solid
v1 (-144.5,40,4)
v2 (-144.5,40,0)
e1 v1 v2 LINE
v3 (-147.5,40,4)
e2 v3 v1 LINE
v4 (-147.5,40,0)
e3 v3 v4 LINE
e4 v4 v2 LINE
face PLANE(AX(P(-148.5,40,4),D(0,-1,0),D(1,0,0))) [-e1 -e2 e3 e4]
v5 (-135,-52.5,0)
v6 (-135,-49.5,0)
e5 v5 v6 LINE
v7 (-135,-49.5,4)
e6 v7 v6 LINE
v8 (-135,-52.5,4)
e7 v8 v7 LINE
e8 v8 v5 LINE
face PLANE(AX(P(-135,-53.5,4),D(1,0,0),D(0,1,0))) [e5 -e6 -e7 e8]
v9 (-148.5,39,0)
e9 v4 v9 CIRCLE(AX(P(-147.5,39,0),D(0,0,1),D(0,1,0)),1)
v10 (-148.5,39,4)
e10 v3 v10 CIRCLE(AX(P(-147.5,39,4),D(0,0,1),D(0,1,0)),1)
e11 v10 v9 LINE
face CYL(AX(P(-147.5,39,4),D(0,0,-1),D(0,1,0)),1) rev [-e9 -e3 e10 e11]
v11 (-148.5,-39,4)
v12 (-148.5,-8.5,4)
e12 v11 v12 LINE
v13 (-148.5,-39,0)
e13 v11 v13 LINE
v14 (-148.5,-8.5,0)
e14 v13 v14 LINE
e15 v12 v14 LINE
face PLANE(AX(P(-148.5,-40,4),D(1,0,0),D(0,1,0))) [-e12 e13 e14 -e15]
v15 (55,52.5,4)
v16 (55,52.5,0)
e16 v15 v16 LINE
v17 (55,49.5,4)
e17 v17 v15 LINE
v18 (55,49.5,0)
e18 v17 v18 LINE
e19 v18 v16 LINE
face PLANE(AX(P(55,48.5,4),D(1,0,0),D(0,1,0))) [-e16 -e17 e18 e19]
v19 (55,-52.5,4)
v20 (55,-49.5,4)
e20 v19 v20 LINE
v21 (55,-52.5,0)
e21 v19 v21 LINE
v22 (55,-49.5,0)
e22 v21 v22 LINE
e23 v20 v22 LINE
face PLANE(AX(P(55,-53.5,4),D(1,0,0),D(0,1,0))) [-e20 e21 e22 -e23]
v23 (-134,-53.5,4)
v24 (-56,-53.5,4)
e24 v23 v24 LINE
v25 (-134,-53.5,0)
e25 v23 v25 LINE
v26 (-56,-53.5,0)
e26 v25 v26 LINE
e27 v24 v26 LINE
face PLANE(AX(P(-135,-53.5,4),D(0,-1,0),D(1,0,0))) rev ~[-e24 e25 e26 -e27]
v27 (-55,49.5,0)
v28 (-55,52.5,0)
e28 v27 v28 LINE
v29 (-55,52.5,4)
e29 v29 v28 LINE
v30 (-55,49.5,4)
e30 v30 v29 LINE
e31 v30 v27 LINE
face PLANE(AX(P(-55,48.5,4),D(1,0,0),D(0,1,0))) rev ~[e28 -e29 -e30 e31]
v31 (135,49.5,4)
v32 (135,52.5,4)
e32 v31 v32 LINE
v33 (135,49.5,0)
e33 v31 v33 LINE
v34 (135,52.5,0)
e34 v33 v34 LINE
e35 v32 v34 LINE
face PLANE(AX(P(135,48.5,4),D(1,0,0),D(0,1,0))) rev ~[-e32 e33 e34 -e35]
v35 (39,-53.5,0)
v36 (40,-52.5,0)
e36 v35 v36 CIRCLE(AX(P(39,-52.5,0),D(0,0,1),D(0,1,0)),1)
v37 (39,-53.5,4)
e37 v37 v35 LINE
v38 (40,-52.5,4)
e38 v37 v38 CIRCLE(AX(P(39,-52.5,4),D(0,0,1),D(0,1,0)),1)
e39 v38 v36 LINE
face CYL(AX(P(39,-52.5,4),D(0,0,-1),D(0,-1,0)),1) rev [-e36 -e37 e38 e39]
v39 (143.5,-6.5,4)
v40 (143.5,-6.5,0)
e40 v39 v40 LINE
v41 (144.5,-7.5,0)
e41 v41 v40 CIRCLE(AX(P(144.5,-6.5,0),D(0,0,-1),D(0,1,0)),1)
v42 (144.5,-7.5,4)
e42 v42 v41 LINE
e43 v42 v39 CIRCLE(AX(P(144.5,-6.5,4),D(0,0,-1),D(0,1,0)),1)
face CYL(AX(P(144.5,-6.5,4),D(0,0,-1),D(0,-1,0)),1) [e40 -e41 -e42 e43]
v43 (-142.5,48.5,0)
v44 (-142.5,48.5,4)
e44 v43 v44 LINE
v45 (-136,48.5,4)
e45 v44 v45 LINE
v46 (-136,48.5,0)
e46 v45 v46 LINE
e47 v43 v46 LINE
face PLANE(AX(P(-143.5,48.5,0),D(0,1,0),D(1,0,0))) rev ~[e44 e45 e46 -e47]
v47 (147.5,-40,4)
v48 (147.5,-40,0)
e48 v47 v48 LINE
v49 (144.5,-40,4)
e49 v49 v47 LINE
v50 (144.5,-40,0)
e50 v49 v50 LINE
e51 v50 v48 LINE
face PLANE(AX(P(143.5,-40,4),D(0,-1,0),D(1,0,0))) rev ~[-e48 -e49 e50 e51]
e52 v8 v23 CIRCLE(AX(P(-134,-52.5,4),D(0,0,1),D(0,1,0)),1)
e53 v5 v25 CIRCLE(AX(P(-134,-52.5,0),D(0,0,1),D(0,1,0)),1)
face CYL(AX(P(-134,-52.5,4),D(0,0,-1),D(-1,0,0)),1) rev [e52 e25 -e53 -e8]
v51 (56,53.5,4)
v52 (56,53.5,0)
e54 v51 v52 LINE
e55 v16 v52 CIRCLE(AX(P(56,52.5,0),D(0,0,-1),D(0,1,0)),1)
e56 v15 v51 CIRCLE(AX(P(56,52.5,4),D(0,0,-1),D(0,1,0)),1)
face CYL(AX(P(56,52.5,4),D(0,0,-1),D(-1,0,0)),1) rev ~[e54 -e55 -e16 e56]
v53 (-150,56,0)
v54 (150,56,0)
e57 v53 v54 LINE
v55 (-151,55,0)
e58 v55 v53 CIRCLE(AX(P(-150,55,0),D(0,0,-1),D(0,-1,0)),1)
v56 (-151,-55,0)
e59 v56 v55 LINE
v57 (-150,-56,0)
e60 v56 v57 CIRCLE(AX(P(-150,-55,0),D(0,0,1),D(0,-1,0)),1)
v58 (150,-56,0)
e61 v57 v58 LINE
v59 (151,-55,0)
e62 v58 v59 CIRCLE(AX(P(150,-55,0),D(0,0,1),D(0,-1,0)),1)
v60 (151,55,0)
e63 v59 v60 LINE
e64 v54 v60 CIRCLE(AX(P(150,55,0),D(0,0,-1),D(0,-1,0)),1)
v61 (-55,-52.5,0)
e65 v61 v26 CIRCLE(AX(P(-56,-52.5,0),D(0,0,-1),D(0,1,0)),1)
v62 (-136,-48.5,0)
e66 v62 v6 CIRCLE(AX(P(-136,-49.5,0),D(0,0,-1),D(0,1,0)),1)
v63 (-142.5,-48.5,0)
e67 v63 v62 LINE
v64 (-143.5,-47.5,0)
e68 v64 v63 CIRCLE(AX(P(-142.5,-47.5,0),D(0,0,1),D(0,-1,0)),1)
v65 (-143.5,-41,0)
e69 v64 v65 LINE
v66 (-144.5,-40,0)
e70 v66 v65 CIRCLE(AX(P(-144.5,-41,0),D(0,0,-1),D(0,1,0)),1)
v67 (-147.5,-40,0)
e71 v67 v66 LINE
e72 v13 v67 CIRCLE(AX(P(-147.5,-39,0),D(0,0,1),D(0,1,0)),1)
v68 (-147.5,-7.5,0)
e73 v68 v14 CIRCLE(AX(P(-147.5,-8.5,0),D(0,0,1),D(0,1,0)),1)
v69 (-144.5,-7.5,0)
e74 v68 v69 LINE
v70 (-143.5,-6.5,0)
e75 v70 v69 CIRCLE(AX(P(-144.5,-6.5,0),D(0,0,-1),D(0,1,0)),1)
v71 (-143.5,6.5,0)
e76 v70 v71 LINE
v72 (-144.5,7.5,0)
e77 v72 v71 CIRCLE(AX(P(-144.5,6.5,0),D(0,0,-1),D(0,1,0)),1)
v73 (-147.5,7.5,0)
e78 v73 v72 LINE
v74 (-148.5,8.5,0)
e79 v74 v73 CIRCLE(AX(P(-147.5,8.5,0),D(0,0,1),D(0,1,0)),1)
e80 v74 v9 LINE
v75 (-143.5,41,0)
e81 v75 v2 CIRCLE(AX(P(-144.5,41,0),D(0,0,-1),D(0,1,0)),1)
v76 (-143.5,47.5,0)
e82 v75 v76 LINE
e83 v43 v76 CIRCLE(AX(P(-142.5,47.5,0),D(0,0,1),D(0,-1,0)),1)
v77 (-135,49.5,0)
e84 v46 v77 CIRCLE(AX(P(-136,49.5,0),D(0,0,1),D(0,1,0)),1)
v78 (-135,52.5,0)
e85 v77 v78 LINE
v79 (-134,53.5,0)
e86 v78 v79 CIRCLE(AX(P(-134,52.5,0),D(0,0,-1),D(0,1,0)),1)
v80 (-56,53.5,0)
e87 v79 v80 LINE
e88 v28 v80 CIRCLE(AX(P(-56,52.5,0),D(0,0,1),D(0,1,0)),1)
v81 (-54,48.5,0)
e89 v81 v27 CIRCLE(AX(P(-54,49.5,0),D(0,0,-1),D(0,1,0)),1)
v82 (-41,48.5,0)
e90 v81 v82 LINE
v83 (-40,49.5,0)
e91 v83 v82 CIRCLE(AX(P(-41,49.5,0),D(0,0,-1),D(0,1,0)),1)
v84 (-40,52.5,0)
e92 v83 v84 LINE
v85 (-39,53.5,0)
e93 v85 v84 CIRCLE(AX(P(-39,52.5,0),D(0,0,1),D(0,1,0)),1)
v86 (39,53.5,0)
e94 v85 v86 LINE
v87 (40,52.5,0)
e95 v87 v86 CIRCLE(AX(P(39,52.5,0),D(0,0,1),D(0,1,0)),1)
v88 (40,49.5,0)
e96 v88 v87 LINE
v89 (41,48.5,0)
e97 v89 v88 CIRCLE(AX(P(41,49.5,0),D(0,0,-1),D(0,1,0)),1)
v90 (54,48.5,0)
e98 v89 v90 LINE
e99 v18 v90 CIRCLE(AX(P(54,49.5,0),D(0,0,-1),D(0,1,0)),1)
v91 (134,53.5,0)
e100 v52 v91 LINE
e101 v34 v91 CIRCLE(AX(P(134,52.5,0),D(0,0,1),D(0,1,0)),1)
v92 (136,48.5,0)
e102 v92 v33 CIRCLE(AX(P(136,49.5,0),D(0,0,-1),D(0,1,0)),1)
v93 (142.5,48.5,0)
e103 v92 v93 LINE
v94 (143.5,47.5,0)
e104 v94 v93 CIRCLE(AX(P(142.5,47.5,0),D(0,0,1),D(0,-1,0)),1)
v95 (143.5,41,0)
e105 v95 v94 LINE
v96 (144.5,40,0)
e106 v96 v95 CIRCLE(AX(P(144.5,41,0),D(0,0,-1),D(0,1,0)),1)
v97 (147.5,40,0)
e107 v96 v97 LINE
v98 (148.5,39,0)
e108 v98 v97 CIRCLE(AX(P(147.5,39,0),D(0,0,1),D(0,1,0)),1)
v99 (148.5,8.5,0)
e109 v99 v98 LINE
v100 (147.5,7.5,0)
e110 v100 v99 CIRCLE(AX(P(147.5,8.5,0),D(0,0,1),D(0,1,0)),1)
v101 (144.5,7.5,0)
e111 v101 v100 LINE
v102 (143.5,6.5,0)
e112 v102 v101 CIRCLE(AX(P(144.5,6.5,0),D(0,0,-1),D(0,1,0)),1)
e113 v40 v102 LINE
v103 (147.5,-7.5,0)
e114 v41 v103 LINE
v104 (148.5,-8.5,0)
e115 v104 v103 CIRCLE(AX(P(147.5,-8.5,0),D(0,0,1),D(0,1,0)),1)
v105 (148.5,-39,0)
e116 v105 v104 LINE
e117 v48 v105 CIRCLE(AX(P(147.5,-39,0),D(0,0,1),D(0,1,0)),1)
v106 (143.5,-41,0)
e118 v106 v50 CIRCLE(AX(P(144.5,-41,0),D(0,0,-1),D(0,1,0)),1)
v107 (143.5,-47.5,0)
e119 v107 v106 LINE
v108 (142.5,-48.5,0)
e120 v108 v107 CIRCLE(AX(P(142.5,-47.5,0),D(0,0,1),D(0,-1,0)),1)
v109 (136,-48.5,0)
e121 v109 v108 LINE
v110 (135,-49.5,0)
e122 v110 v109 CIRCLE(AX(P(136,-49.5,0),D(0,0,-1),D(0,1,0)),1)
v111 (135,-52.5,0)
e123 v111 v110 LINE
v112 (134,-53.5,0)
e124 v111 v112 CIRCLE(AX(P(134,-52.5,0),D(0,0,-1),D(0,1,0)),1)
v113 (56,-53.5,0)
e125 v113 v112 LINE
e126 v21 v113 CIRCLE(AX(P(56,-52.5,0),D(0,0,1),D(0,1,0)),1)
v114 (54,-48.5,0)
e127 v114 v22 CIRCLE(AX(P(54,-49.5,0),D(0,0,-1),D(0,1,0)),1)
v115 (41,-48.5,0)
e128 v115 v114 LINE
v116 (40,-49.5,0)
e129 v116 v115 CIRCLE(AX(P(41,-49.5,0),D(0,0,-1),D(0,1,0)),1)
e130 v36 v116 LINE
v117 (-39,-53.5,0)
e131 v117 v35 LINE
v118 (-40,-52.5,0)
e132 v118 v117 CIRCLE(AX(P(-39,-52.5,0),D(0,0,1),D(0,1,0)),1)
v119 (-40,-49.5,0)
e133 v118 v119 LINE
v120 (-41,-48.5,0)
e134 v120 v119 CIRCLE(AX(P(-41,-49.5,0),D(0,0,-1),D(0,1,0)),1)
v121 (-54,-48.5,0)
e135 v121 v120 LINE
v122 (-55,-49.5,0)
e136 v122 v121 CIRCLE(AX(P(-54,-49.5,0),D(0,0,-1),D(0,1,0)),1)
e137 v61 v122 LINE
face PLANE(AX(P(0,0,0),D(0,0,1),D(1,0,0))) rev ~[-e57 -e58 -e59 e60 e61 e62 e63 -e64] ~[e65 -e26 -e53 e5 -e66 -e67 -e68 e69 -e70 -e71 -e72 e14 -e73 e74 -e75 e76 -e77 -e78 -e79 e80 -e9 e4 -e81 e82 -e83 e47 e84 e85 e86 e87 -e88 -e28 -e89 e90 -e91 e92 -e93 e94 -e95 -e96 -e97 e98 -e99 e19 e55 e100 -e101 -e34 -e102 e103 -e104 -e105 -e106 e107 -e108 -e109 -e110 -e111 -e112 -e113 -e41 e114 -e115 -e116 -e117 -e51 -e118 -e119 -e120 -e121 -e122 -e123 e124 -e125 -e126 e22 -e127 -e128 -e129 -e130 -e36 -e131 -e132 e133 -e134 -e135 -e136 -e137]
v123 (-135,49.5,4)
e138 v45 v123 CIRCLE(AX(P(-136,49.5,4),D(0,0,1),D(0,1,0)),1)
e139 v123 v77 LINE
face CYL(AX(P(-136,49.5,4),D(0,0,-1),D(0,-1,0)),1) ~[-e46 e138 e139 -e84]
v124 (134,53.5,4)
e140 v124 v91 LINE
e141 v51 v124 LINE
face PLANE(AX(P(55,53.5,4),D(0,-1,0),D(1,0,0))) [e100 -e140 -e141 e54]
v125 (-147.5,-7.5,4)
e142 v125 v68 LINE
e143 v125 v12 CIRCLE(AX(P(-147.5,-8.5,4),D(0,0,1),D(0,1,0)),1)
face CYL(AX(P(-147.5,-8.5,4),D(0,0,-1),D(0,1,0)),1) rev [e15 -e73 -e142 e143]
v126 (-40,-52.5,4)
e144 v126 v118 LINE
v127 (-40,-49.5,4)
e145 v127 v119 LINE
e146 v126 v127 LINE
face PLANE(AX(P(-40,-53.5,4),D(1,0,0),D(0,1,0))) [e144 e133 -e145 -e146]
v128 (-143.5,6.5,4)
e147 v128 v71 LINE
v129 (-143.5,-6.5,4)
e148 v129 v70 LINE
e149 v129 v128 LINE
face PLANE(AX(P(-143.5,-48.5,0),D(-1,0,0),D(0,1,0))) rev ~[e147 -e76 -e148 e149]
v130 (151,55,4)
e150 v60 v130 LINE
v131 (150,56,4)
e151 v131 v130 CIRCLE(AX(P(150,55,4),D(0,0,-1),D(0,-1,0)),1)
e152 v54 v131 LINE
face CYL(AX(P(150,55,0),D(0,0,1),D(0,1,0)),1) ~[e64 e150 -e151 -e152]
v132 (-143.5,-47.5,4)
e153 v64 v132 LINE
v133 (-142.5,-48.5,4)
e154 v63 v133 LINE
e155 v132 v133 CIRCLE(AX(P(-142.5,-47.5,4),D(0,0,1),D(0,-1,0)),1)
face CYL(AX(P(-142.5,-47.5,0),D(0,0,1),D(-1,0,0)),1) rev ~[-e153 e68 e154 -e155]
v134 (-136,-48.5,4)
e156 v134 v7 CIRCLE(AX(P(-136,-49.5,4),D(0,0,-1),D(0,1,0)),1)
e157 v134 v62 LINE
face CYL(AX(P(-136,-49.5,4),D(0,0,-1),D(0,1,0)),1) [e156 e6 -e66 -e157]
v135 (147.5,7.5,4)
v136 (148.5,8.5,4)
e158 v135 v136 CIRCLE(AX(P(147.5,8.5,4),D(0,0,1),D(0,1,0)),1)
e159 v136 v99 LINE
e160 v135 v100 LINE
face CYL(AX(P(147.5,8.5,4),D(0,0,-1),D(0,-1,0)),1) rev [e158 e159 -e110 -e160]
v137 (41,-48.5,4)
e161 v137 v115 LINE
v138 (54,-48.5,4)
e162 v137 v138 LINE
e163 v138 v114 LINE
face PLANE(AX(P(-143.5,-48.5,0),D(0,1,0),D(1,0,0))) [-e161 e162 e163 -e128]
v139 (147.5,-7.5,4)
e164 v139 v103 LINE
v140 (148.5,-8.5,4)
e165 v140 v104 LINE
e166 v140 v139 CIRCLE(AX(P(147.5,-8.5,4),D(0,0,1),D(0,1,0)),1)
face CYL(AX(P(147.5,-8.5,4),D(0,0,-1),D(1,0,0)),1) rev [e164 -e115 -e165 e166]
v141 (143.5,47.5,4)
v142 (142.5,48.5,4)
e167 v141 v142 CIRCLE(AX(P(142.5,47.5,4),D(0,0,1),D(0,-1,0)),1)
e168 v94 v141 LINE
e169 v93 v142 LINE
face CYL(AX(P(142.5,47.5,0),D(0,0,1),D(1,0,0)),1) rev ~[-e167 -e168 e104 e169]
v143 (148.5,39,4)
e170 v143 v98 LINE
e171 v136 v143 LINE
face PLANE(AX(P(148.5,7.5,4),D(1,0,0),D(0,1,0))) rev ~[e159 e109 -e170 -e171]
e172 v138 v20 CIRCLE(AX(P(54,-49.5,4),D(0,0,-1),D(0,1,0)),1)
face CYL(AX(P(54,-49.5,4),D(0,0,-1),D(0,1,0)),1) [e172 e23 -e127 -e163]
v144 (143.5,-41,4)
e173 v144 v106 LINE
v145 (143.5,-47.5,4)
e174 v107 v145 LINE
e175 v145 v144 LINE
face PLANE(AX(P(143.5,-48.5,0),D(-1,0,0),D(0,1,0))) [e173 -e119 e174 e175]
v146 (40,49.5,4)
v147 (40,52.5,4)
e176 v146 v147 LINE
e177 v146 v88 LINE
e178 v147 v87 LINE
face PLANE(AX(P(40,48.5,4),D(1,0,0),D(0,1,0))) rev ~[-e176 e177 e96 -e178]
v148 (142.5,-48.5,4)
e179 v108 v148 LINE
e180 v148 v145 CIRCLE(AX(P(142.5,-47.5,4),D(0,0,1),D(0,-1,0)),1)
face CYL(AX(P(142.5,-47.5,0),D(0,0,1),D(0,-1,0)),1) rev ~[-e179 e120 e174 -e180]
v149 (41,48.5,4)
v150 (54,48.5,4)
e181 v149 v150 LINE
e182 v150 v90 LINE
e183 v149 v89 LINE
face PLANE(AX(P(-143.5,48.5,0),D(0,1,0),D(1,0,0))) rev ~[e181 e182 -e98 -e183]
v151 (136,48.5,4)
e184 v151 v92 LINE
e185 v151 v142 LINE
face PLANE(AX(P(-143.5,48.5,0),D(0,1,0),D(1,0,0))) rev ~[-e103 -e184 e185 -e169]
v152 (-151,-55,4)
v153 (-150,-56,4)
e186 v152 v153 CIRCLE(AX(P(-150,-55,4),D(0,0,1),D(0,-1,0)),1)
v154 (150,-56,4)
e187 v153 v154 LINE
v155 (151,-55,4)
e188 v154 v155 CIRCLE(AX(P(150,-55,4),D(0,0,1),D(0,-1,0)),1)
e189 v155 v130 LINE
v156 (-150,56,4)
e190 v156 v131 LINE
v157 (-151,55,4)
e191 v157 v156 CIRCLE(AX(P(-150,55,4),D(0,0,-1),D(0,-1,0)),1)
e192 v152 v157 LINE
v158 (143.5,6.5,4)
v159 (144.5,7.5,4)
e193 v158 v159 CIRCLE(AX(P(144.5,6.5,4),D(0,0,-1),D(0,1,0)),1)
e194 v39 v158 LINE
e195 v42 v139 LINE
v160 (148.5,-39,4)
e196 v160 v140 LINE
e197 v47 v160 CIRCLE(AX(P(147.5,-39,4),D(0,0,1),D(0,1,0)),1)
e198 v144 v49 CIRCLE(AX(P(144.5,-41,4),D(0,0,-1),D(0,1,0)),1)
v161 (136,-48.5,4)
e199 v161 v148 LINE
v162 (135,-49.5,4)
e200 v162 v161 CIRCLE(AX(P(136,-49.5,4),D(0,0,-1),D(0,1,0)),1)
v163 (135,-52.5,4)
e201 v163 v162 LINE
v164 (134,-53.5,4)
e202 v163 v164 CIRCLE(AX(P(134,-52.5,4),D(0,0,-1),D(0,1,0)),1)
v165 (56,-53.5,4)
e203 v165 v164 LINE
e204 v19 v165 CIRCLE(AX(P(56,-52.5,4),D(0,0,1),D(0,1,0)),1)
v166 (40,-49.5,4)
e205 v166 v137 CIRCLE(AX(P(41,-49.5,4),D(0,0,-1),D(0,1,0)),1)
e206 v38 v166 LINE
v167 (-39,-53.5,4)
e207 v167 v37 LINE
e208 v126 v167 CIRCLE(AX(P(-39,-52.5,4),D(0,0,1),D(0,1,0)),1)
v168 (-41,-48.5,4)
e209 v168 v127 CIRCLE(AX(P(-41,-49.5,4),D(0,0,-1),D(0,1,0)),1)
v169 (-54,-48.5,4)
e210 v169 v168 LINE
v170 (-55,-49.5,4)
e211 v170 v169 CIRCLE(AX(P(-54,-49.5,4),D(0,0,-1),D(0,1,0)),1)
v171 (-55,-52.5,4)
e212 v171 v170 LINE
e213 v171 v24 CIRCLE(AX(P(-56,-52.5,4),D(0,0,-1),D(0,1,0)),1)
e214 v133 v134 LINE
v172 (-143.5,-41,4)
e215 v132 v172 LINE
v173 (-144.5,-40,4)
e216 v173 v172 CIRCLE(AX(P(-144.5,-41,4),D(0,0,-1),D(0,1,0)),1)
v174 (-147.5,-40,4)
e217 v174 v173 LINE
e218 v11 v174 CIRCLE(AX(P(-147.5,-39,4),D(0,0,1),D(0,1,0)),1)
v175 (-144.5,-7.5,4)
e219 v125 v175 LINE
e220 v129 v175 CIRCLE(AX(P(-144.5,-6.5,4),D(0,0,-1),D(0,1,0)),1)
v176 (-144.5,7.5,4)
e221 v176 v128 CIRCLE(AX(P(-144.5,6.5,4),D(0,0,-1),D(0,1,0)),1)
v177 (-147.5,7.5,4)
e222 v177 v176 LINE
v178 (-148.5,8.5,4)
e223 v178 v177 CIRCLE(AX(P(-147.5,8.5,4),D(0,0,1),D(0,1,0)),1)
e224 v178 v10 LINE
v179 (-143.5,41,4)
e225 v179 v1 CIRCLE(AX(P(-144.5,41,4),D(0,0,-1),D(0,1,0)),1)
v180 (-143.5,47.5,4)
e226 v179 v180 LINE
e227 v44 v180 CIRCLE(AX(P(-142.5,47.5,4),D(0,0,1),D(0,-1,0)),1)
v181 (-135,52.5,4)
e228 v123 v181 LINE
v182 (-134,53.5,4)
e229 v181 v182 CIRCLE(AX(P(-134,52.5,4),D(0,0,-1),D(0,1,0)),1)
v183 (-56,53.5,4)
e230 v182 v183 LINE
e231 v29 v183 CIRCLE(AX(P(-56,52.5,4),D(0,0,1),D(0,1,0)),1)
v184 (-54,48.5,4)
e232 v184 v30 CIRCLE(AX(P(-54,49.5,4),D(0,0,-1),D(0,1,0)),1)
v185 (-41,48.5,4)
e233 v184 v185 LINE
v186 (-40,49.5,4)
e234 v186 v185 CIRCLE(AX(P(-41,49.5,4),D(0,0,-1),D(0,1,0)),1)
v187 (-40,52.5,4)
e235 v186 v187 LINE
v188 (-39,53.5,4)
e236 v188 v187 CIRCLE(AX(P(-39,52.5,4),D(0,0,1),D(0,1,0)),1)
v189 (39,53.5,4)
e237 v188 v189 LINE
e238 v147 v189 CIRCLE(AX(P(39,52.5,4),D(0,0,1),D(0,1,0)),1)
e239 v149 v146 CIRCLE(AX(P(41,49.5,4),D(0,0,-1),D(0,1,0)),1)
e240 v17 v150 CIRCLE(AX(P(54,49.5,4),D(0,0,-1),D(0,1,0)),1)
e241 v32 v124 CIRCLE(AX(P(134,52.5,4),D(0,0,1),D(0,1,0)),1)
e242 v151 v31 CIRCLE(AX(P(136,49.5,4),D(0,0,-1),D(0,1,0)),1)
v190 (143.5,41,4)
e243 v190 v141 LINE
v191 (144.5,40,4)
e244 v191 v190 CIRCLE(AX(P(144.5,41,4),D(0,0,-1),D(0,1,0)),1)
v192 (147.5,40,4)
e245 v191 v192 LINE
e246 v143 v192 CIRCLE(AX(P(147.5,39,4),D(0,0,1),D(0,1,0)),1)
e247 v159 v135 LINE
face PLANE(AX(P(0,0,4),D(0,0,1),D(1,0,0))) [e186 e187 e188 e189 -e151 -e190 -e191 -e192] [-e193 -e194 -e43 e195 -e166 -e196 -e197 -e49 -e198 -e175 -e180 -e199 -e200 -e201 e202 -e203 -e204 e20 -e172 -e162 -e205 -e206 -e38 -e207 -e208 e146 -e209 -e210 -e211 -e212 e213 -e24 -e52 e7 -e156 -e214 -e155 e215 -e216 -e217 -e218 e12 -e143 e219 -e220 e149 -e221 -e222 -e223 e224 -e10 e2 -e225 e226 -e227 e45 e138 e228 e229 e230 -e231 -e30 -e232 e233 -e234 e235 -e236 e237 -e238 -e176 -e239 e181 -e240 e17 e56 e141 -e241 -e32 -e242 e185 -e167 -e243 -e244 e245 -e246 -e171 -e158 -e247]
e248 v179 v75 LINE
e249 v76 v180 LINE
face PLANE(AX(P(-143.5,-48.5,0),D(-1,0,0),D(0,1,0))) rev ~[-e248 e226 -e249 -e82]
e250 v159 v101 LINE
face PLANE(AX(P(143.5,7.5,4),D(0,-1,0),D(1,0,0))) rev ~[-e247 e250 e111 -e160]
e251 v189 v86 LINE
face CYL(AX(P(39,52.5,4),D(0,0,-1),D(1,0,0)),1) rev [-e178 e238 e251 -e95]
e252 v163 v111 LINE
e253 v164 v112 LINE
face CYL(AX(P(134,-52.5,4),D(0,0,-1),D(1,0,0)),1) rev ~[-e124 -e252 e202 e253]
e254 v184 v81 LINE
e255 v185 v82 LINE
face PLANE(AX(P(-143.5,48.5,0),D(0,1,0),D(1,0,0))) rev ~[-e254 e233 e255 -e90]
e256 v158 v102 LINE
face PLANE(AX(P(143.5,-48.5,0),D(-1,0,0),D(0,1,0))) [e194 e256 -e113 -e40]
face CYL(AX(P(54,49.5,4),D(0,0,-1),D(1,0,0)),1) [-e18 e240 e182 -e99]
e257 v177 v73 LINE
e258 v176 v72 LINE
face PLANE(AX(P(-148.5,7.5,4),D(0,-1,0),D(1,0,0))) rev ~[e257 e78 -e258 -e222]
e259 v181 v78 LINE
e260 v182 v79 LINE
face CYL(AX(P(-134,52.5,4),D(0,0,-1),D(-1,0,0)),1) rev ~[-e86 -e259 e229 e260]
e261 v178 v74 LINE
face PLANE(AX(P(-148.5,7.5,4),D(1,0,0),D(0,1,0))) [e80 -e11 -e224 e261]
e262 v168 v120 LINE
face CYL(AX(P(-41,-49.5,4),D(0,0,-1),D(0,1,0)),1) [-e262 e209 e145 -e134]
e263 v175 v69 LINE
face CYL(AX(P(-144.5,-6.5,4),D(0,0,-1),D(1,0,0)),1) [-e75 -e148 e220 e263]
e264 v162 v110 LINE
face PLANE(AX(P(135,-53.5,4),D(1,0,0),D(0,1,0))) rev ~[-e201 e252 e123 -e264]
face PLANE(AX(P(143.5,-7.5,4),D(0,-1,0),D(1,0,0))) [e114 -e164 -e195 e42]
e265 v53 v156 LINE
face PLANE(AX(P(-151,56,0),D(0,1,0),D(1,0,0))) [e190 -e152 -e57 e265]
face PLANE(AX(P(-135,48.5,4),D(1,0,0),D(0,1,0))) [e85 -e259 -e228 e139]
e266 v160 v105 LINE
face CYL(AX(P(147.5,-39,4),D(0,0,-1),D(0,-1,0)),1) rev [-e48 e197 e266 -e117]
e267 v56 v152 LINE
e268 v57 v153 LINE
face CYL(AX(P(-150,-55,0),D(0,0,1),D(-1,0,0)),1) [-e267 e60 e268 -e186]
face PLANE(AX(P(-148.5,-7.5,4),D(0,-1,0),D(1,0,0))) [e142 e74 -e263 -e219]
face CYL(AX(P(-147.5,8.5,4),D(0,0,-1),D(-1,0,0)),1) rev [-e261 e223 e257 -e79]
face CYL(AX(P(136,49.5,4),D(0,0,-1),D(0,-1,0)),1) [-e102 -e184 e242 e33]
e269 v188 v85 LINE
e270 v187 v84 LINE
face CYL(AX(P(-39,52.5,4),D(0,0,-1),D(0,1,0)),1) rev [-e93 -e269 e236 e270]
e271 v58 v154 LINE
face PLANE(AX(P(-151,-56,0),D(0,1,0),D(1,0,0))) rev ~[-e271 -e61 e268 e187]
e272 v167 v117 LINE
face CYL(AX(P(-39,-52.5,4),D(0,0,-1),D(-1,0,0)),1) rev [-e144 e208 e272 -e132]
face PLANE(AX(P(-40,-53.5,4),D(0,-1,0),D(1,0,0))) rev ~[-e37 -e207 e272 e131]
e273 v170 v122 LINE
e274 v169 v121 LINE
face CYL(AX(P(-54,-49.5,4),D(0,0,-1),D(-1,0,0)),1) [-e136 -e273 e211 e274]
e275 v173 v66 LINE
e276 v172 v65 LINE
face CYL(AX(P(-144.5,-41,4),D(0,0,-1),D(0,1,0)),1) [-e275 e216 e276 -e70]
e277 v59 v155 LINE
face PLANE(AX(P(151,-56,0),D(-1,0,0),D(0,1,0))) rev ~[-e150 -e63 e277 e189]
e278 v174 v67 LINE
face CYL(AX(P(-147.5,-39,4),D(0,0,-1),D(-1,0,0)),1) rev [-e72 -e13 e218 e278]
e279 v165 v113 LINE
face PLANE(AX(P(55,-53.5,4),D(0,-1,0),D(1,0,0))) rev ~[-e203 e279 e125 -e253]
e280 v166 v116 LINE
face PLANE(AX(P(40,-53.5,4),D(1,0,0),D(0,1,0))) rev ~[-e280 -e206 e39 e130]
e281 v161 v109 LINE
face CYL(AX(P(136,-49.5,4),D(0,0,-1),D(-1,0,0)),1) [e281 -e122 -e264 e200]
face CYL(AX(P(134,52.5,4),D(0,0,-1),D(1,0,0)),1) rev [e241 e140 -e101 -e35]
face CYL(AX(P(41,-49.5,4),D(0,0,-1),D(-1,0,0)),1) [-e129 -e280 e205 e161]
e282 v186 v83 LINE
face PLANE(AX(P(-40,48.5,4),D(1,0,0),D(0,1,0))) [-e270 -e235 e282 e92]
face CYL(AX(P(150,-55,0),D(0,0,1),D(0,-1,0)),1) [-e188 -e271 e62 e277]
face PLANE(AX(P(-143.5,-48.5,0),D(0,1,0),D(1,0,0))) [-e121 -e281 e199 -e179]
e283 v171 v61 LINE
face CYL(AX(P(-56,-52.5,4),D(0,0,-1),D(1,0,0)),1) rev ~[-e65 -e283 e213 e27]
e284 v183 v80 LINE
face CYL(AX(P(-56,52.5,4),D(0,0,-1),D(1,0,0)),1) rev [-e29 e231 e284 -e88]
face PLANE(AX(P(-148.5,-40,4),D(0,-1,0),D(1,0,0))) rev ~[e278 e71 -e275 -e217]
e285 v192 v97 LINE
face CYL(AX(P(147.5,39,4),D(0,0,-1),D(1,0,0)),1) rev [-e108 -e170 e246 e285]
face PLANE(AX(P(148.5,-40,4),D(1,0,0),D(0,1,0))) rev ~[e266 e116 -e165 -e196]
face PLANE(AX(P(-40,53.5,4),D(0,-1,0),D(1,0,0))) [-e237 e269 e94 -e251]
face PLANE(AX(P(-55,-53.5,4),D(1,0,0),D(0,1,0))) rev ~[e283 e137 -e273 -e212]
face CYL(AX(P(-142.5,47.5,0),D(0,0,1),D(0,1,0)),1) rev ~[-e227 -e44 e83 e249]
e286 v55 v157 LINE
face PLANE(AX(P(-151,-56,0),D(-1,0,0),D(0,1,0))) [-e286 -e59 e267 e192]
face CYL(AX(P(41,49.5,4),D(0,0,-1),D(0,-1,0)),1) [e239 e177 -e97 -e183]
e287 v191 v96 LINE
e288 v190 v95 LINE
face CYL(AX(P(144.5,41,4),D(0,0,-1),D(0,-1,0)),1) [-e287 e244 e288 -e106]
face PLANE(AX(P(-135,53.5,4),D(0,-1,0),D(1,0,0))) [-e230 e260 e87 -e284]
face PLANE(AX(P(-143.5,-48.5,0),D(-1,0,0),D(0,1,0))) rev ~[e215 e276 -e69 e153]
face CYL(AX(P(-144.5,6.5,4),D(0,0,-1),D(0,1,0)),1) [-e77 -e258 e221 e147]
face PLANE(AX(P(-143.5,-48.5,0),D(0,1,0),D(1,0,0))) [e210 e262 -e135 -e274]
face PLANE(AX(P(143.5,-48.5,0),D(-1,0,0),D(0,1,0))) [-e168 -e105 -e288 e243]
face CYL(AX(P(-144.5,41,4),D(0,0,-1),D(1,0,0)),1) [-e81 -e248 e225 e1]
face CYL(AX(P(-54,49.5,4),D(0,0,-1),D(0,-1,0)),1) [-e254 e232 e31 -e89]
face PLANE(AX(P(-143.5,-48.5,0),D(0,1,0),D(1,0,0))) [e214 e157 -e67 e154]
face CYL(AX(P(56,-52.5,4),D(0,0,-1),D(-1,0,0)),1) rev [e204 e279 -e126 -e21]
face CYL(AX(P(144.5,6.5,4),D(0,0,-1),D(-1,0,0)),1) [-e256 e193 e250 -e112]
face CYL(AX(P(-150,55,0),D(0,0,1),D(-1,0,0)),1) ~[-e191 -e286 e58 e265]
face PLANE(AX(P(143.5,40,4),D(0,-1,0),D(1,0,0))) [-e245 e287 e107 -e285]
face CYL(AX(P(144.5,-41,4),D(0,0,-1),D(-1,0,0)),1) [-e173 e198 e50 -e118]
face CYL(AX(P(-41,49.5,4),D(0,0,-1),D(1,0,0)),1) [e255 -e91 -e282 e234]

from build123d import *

# Parameters (mm, degrees)
SKETCH_W      = 302
SKETCH_H      = 112
SKETCH_W_2    = 287
SKETCH_H_2    = 97
PAD_DEPTH     = 4
SKETCH001_W   = 80
SKETCH001_H   = 5
SKETCH001_W_2 = 5
SKETCH001_H_2 = 32.5
POCKET_DEPTH  = 5
FILLET_R      = 1
FILLET001_R   = 1
FILLET002_R   = 1
FILLET003_R   = 1
FILLET004_R   = 1
FILLET005_R   = 1
FILLET006_R   = 1
FILLET007_R   = 1
FILLET008_R   = 1
FILLET009_R   = 1
FILLET010_R   = 1
FILLET011_R   = 1
FILLET012_R   = 1
FILLET013_R   = 1
FILLET014_R   = 1
FILLET015_R   = 1
FILLET016_R   = 1
FILLET017_R   = 1
FILLET018_R   = 1
FILLET019_R   = 1
FILLET020_R   = 1
FILLET021_R   = 1
FILLET022_R   = 1
FILLET023_R   = 1
FILLET024_R   = 1
FILLET025_R   = 1
FILLET026_R   = 1
FILLET027_R   = 1
FILLET028_R   = 1
FILLET029_R   = 1
FILLET030_R   = 1
FILLET031_R   = 1
FILLET032_R   = 1
FILLET033_R   = 1
FILLET034_R   = 1
FILLET035_R   = 1
FILLET036_R   = 1
FILLET037_R   = 1
FILLET038_R   = 1
FILLET039_R   = 1
FILLET040_R   = 1
FILLET041_R   = 1
FILLET042_R   = 1
FILLET043_R   = 1
FILLET044_R   = 1
FILLET045_R   = 1
FILLET046_R   = 1
FILLET047_R   = 1


with BuildPart() as part:
    # Sketch → Pad (new body)
    with BuildSketch(Plane.XY):
        Rectangle(SKETCH_W, SKETCH_H)
        Rectangle(SKETCH_W_2, SKETCH_H_2, mode=Mode.SUBTRACT)
    extrude(amount=PAD_DEPTH)

    # Sketch001 (on Face10 of Pad) → Pocket (cut)
    with BuildSketch(Plane.XY.offset(4)):
        with Locations((0, 51)):
            Rectangle(SKETCH001_W, SKETCH001_H)
        with Locations((0, -51)):
            Rectangle(SKETCH001_W, SKETCH001_H)
        with Locations((-95, -51)):
            Rectangle(SKETCH001_W, SKETCH001_H)
        with Locations((-95, 51)):
            Rectangle(SKETCH001_W, SKETCH001_H)
        with Locations((95, 51)):
            Rectangle(SKETCH001_W, SKETCH001_H)
        with Locations((95, -51)):
            Rectangle(SKETCH001_W, SKETCH001_H)
        with Locations((-146, 23.75)):
            Rectangle(SKETCH001_W_2, SKETCH001_H_2)
        with Locations((-146, -23.75)):
            Rectangle(SKETCH001_W_2, SKETCH001_H_2)
        with Locations((146, 23.75)):
            Rectangle(SKETCH001_W_2, SKETCH001_H_2)
        with Locations((146, -23.75)):
            Rectangle(SKETCH001_W_2, SKETCH001_H_2)
    extrude(amount=-POCKET_DEPTH, mode=Mode.SUBTRACT)

    # Fillet
    fillet_edges = [part.edges().sort_by_distance(p)[0] for p in [
        (-151, -56, 2),
    ]]
    fillet(fillet_edges, radius=FILLET_R)

    # Fillet001
    fillet001_edges = [part.edges().sort_by_distance(p)[0] for p in [
        (-143.5, -7.5, 2),
    ]]
    fillet(fillet001_edges, radius=FILLET001_R)

    # Fillet002
    fillet002_edges = [part.edges().sort_by_distance(p)[0] for p in [
        (-55, -48.5, 2),
    ]]
    fillet(fillet002_edges, radius=FILLET002_R)

    # Fillet003
    fillet003_edges = [part.edges().sort_by_distance(p)[0] for p in [
        (40, -48.5, 2),
    ]]
    fillet(fillet003_edges, radius=FILLET003_R)

    # Fillet004
    fillet004_edges = [part.edges().sort_by_distance(p)[0] for p in [
        (135, -48.5, 2),
    ]]
    fillet(fillet004_edges, radius=FILLET004_R)

    # Fillet005
    fillet005_edges = [part.edges().sort_by_distance(p)[0] for p in [
        (143.5, -40, 2),
    ]]
    fillet(fillet005_edges, radius=FILLET005_R)

    # Fillet006
    fillet006_edges = [part.edges().sort_by_distance(p)[0] for p in [
        (151, -56, 2),
    ]]
    fillet(fillet006_edges, radius=FILLET006_R)

    # Fillet007
    fillet007_edges = [part.edges().sort_by_distance(p)[0] for p in [
        (148.5, -7.5, 2),
    ]]
    fillet(fillet007_edges, radius=FILLET007_R)

    # Fillet008
    fillet008_edges = [part.edges().sort_by_distance(p)[0] for p in [
        (143.5, -7.5, 2),
    ]]
    fillet(fillet008_edges, radius=FILLET008_R)

    # Fillet009
    fillet009_edges = [part.edges().sort_by_distance(p)[0] for p in [
        (143.5, 7.5, 2),
    ]]
    fillet(fillet009_edges, radius=FILLET009_R)

    # Fillet010
    fillet010_edges = [part.edges().sort_by_distance(p)[0] for p in [
        (148.5, 40, 2),
    ]]
    fillet(fillet010_edges, radius=FILLET010_R)

    # Fillet011
    fillet011_edges = [part.edges().sort_by_distance(p)[0] for p in [
        (143.5, 40, 2),
    ]]
    fillet(fillet011_edges, radius=FILLET011_R)

    # Fillet012
    fillet012_edges = [part.edges().sort_by_distance(p)[0] for p in [
        (143.5, 48.5, 2),
    ]]
    fillet(fillet012_edges, radius=FILLET012_R)

    # Fillet013
    fillet013_edges = [part.edges().sort_by_distance(p)[0] for p in [
        (135, 48.5, 2),
    ]]
    fillet(fillet013_edges, radius=FILLET013_R)

    # Fillet014
    fillet014_edges = [part.edges().sort_by_distance(p)[0] for p in [
        (135, 53.5, 2),
    ]]
    fillet(fillet014_edges, radius=FILLET014_R)

    # Fillet015
    fillet015_edges = [part.edges().sort_by_distance(p)[0] for p in [
        (55, 48.5, 2),
    ]]
    fillet(fillet015_edges, radius=FILLET015_R)

    # Fillet016
    fillet016_edges = [part.edges().sort_by_distance(p)[0] for p in [
        (40, 48.5, 2),
    ]]
    fillet(fillet016_edges, radius=FILLET016_R)

    # Fillet017
    fillet017_edges = [part.edges().sort_by_distance(p)[0] for p in [
        (40, 53.5, 2),
    ]]
    fillet(fillet017_edges, radius=FILLET017_R)

    # Fillet018
    fillet018_edges = [part.edges().sort_by_distance(p)[0] for p in [
        (-40, 48.5, 2),
    ]]
    fillet(fillet018_edges, radius=FILLET018_R)

    # Fillet019
    fillet019_edges = [part.edges().sort_by_distance(p)[0] for p in [
        (-55, 48.5, 2),
    ]]
    fillet(fillet019_edges, radius=FILLET019_R)

    # Fillet020
    fillet020_edges = [part.edges().sort_by_distance(p)[0] for p in [
        (-55, 53.5, 2),
    ]]
    fillet(fillet020_edges, radius=FILLET020_R)

    # Fillet021
    fillet021_edges = [part.edges().sort_by_distance(p)[0] for p in [
        (-143.5, 40, 2),
    ]]
    fillet(fillet021_edges, radius=FILLET021_R)

    # Fillet022
    fillet022_edges = [part.edges().sort_by_distance(p)[0] for p in [
        (-135, 48.5, 2),
    ]]
    fillet(fillet022_edges, radius=FILLET022_R)

    # Fillet023
    fillet023_edges = [part.edges().sort_by_distance(p)[0] for p in [
        (-151, 56, 2),
    ]]
    fillet(fillet023_edges, radius=FILLET023_R)

    # Fillet024
    fillet024_edges = [part.edges().sort_by_distance(p)[0] for p in [
        (-143.5, 48.5, 2),
    ]]
    fillet(fillet024_edges, radius=FILLET024_R)

    # Fillet025
    fillet025_edges = [part.edges().sort_by_distance(p)[0] for p in [
        (-135, 53.5, 2),
    ]]
    fillet(fillet025_edges, radius=FILLET025_R)

    # Fillet026
    fillet026_edges = [part.edges().sort_by_distance(p)[0] for p in [
        (-148.5, 40, 2),
    ]]
    fillet(fillet026_edges, radius=FILLET026_R)

    # Fillet027
    fillet027_edges = [part.edges().sort_by_distance(p)[0] for p in [
        (-148.5, -7.5, 2),
    ]]
    fillet(fillet027_edges, radius=FILLET027_R)

    # Fillet028
    fillet028_edges = [part.edges().sort_by_distance(p)[0] for p in [
        (-143.5, -40, 2),
    ]]
    fillet(fillet028_edges, radius=FILLET028_R)

    # Fillet029
    fillet029_edges = [part.edges().sort_by_distance(p)[0] for p in [
        (-135, -48.5, 2),
    ]]
    fillet(fillet029_edges, radius=FILLET029_R)

    # Fillet030
    fillet030_edges = [part.edges().sort_by_distance(p)[0] for p in [
        (55, 53.5, 2),
    ]]
    fillet(fillet030_edges, radius=FILLET030_R)

    # Fillet031
    fillet031_edges = [part.edges().sort_by_distance(p)[0] for p in [
        (-40, 53.5, 2),
    ]]
    fillet(fillet031_edges, radius=FILLET031_R)

    # Fillet032
    fillet032_edges = [part.edges().sort_by_distance(p)[0] for p in [
        (-148.5, 7.5, 2),
    ]]
    fillet(fillet032_edges, radius=FILLET032_R)

    # Fillet033
    fillet033_edges = [part.edges().sort_by_distance(p)[0] for p in [
        (-143.5, 7.5, 2),
    ]]
    fillet(fillet033_edges, radius=FILLET033_R)

    # Fillet034
    fillet034_edges = [part.edges().sort_by_distance(p)[0] for p in [
        (-148.5, -40, 2),
    ]]
    fillet(fillet034_edges, radius=FILLET034_R)

    # Fillet035
    fillet035_edges = [part.edges().sort_by_distance(p)[0] for p in [
        (-143.5, -48.5, 2),
    ]]
    fillet(fillet035_edges, radius=FILLET035_R)

    # Fillet036
    fillet036_edges = [part.edges().sort_by_distance(p)[0] for p in [
        (-135, -53.5, 2),
    ]]
    fillet(fillet036_edges, radius=FILLET036_R)

    # Fillet037
    fillet037_edges = [part.edges().sort_by_distance(p)[0] for p in [
        (-40, -48.5, 2),
    ]]
    fillet(fillet037_edges, radius=FILLET037_R)

    # Fillet038
    fillet038_edges = [part.edges().sort_by_distance(p)[0] for p in [
        (-40, -53.5, 2),
    ]]
    fillet(fillet038_edges, radius=FILLET038_R)

    # Fillet039
    fillet039_edges = [part.edges().sort_by_distance(p)[0] for p in [
        (55, -48.5, 2),
    ]]
    fillet(fillet039_edges, radius=FILLET039_R)

    # Fillet040
    fillet040_edges = [part.edges().sort_by_distance(p)[0] for p in [
        (55, -53.5, 2),
    ]]
    fillet(fillet040_edges, radius=FILLET040_R)

    # Fillet041
    fillet041_edges = [part.edges().sort_by_distance(p)[0] for p in [
        (-55, -53.5, 2),
    ]]
    fillet(fillet041_edges, radius=FILLET041_R)

    # Fillet042
    fillet042_edges = [part.edges().sort_by_distance(p)[0] for p in [
        (40, -53.5, 2),
    ]]
    fillet(fillet042_edges, radius=FILLET042_R)

    # Fillet043
    fillet043_edges = [part.edges().sort_by_distance(p)[0] for p in [
        (151, 56, 2),
    ]]
    fillet(fillet043_edges, radius=FILLET043_R)

    # Fillet044
    fillet044_edges = [part.edges().sort_by_distance(p)[0] for p in [
        (143.5, -48.5, 2),
    ]]
    fillet(fillet044_edges, radius=FILLET044_R)

    # Fillet045
    fillet045_edges = [part.edges().sort_by_distance(p)[0] for p in [
        (135, -53.5, 2),
    ]]
    fillet(fillet045_edges, radius=FILLET045_R)

    # Fillet046
    fillet046_edges = [part.edges().sort_by_distance(p)[0] for p in [
        (148.5, -40, 2),
    ]]
    fillet(fillet046_edges, radius=FILLET046_R)

    # Fillet047
    fillet047_edges = [part.edges().sort_by_distance(p)[0] for p in [
        (148.5, 7.5, 2),
    ]]
    fillet(fillet047_edges, radius=FILLET047_R)


solid = part.part
